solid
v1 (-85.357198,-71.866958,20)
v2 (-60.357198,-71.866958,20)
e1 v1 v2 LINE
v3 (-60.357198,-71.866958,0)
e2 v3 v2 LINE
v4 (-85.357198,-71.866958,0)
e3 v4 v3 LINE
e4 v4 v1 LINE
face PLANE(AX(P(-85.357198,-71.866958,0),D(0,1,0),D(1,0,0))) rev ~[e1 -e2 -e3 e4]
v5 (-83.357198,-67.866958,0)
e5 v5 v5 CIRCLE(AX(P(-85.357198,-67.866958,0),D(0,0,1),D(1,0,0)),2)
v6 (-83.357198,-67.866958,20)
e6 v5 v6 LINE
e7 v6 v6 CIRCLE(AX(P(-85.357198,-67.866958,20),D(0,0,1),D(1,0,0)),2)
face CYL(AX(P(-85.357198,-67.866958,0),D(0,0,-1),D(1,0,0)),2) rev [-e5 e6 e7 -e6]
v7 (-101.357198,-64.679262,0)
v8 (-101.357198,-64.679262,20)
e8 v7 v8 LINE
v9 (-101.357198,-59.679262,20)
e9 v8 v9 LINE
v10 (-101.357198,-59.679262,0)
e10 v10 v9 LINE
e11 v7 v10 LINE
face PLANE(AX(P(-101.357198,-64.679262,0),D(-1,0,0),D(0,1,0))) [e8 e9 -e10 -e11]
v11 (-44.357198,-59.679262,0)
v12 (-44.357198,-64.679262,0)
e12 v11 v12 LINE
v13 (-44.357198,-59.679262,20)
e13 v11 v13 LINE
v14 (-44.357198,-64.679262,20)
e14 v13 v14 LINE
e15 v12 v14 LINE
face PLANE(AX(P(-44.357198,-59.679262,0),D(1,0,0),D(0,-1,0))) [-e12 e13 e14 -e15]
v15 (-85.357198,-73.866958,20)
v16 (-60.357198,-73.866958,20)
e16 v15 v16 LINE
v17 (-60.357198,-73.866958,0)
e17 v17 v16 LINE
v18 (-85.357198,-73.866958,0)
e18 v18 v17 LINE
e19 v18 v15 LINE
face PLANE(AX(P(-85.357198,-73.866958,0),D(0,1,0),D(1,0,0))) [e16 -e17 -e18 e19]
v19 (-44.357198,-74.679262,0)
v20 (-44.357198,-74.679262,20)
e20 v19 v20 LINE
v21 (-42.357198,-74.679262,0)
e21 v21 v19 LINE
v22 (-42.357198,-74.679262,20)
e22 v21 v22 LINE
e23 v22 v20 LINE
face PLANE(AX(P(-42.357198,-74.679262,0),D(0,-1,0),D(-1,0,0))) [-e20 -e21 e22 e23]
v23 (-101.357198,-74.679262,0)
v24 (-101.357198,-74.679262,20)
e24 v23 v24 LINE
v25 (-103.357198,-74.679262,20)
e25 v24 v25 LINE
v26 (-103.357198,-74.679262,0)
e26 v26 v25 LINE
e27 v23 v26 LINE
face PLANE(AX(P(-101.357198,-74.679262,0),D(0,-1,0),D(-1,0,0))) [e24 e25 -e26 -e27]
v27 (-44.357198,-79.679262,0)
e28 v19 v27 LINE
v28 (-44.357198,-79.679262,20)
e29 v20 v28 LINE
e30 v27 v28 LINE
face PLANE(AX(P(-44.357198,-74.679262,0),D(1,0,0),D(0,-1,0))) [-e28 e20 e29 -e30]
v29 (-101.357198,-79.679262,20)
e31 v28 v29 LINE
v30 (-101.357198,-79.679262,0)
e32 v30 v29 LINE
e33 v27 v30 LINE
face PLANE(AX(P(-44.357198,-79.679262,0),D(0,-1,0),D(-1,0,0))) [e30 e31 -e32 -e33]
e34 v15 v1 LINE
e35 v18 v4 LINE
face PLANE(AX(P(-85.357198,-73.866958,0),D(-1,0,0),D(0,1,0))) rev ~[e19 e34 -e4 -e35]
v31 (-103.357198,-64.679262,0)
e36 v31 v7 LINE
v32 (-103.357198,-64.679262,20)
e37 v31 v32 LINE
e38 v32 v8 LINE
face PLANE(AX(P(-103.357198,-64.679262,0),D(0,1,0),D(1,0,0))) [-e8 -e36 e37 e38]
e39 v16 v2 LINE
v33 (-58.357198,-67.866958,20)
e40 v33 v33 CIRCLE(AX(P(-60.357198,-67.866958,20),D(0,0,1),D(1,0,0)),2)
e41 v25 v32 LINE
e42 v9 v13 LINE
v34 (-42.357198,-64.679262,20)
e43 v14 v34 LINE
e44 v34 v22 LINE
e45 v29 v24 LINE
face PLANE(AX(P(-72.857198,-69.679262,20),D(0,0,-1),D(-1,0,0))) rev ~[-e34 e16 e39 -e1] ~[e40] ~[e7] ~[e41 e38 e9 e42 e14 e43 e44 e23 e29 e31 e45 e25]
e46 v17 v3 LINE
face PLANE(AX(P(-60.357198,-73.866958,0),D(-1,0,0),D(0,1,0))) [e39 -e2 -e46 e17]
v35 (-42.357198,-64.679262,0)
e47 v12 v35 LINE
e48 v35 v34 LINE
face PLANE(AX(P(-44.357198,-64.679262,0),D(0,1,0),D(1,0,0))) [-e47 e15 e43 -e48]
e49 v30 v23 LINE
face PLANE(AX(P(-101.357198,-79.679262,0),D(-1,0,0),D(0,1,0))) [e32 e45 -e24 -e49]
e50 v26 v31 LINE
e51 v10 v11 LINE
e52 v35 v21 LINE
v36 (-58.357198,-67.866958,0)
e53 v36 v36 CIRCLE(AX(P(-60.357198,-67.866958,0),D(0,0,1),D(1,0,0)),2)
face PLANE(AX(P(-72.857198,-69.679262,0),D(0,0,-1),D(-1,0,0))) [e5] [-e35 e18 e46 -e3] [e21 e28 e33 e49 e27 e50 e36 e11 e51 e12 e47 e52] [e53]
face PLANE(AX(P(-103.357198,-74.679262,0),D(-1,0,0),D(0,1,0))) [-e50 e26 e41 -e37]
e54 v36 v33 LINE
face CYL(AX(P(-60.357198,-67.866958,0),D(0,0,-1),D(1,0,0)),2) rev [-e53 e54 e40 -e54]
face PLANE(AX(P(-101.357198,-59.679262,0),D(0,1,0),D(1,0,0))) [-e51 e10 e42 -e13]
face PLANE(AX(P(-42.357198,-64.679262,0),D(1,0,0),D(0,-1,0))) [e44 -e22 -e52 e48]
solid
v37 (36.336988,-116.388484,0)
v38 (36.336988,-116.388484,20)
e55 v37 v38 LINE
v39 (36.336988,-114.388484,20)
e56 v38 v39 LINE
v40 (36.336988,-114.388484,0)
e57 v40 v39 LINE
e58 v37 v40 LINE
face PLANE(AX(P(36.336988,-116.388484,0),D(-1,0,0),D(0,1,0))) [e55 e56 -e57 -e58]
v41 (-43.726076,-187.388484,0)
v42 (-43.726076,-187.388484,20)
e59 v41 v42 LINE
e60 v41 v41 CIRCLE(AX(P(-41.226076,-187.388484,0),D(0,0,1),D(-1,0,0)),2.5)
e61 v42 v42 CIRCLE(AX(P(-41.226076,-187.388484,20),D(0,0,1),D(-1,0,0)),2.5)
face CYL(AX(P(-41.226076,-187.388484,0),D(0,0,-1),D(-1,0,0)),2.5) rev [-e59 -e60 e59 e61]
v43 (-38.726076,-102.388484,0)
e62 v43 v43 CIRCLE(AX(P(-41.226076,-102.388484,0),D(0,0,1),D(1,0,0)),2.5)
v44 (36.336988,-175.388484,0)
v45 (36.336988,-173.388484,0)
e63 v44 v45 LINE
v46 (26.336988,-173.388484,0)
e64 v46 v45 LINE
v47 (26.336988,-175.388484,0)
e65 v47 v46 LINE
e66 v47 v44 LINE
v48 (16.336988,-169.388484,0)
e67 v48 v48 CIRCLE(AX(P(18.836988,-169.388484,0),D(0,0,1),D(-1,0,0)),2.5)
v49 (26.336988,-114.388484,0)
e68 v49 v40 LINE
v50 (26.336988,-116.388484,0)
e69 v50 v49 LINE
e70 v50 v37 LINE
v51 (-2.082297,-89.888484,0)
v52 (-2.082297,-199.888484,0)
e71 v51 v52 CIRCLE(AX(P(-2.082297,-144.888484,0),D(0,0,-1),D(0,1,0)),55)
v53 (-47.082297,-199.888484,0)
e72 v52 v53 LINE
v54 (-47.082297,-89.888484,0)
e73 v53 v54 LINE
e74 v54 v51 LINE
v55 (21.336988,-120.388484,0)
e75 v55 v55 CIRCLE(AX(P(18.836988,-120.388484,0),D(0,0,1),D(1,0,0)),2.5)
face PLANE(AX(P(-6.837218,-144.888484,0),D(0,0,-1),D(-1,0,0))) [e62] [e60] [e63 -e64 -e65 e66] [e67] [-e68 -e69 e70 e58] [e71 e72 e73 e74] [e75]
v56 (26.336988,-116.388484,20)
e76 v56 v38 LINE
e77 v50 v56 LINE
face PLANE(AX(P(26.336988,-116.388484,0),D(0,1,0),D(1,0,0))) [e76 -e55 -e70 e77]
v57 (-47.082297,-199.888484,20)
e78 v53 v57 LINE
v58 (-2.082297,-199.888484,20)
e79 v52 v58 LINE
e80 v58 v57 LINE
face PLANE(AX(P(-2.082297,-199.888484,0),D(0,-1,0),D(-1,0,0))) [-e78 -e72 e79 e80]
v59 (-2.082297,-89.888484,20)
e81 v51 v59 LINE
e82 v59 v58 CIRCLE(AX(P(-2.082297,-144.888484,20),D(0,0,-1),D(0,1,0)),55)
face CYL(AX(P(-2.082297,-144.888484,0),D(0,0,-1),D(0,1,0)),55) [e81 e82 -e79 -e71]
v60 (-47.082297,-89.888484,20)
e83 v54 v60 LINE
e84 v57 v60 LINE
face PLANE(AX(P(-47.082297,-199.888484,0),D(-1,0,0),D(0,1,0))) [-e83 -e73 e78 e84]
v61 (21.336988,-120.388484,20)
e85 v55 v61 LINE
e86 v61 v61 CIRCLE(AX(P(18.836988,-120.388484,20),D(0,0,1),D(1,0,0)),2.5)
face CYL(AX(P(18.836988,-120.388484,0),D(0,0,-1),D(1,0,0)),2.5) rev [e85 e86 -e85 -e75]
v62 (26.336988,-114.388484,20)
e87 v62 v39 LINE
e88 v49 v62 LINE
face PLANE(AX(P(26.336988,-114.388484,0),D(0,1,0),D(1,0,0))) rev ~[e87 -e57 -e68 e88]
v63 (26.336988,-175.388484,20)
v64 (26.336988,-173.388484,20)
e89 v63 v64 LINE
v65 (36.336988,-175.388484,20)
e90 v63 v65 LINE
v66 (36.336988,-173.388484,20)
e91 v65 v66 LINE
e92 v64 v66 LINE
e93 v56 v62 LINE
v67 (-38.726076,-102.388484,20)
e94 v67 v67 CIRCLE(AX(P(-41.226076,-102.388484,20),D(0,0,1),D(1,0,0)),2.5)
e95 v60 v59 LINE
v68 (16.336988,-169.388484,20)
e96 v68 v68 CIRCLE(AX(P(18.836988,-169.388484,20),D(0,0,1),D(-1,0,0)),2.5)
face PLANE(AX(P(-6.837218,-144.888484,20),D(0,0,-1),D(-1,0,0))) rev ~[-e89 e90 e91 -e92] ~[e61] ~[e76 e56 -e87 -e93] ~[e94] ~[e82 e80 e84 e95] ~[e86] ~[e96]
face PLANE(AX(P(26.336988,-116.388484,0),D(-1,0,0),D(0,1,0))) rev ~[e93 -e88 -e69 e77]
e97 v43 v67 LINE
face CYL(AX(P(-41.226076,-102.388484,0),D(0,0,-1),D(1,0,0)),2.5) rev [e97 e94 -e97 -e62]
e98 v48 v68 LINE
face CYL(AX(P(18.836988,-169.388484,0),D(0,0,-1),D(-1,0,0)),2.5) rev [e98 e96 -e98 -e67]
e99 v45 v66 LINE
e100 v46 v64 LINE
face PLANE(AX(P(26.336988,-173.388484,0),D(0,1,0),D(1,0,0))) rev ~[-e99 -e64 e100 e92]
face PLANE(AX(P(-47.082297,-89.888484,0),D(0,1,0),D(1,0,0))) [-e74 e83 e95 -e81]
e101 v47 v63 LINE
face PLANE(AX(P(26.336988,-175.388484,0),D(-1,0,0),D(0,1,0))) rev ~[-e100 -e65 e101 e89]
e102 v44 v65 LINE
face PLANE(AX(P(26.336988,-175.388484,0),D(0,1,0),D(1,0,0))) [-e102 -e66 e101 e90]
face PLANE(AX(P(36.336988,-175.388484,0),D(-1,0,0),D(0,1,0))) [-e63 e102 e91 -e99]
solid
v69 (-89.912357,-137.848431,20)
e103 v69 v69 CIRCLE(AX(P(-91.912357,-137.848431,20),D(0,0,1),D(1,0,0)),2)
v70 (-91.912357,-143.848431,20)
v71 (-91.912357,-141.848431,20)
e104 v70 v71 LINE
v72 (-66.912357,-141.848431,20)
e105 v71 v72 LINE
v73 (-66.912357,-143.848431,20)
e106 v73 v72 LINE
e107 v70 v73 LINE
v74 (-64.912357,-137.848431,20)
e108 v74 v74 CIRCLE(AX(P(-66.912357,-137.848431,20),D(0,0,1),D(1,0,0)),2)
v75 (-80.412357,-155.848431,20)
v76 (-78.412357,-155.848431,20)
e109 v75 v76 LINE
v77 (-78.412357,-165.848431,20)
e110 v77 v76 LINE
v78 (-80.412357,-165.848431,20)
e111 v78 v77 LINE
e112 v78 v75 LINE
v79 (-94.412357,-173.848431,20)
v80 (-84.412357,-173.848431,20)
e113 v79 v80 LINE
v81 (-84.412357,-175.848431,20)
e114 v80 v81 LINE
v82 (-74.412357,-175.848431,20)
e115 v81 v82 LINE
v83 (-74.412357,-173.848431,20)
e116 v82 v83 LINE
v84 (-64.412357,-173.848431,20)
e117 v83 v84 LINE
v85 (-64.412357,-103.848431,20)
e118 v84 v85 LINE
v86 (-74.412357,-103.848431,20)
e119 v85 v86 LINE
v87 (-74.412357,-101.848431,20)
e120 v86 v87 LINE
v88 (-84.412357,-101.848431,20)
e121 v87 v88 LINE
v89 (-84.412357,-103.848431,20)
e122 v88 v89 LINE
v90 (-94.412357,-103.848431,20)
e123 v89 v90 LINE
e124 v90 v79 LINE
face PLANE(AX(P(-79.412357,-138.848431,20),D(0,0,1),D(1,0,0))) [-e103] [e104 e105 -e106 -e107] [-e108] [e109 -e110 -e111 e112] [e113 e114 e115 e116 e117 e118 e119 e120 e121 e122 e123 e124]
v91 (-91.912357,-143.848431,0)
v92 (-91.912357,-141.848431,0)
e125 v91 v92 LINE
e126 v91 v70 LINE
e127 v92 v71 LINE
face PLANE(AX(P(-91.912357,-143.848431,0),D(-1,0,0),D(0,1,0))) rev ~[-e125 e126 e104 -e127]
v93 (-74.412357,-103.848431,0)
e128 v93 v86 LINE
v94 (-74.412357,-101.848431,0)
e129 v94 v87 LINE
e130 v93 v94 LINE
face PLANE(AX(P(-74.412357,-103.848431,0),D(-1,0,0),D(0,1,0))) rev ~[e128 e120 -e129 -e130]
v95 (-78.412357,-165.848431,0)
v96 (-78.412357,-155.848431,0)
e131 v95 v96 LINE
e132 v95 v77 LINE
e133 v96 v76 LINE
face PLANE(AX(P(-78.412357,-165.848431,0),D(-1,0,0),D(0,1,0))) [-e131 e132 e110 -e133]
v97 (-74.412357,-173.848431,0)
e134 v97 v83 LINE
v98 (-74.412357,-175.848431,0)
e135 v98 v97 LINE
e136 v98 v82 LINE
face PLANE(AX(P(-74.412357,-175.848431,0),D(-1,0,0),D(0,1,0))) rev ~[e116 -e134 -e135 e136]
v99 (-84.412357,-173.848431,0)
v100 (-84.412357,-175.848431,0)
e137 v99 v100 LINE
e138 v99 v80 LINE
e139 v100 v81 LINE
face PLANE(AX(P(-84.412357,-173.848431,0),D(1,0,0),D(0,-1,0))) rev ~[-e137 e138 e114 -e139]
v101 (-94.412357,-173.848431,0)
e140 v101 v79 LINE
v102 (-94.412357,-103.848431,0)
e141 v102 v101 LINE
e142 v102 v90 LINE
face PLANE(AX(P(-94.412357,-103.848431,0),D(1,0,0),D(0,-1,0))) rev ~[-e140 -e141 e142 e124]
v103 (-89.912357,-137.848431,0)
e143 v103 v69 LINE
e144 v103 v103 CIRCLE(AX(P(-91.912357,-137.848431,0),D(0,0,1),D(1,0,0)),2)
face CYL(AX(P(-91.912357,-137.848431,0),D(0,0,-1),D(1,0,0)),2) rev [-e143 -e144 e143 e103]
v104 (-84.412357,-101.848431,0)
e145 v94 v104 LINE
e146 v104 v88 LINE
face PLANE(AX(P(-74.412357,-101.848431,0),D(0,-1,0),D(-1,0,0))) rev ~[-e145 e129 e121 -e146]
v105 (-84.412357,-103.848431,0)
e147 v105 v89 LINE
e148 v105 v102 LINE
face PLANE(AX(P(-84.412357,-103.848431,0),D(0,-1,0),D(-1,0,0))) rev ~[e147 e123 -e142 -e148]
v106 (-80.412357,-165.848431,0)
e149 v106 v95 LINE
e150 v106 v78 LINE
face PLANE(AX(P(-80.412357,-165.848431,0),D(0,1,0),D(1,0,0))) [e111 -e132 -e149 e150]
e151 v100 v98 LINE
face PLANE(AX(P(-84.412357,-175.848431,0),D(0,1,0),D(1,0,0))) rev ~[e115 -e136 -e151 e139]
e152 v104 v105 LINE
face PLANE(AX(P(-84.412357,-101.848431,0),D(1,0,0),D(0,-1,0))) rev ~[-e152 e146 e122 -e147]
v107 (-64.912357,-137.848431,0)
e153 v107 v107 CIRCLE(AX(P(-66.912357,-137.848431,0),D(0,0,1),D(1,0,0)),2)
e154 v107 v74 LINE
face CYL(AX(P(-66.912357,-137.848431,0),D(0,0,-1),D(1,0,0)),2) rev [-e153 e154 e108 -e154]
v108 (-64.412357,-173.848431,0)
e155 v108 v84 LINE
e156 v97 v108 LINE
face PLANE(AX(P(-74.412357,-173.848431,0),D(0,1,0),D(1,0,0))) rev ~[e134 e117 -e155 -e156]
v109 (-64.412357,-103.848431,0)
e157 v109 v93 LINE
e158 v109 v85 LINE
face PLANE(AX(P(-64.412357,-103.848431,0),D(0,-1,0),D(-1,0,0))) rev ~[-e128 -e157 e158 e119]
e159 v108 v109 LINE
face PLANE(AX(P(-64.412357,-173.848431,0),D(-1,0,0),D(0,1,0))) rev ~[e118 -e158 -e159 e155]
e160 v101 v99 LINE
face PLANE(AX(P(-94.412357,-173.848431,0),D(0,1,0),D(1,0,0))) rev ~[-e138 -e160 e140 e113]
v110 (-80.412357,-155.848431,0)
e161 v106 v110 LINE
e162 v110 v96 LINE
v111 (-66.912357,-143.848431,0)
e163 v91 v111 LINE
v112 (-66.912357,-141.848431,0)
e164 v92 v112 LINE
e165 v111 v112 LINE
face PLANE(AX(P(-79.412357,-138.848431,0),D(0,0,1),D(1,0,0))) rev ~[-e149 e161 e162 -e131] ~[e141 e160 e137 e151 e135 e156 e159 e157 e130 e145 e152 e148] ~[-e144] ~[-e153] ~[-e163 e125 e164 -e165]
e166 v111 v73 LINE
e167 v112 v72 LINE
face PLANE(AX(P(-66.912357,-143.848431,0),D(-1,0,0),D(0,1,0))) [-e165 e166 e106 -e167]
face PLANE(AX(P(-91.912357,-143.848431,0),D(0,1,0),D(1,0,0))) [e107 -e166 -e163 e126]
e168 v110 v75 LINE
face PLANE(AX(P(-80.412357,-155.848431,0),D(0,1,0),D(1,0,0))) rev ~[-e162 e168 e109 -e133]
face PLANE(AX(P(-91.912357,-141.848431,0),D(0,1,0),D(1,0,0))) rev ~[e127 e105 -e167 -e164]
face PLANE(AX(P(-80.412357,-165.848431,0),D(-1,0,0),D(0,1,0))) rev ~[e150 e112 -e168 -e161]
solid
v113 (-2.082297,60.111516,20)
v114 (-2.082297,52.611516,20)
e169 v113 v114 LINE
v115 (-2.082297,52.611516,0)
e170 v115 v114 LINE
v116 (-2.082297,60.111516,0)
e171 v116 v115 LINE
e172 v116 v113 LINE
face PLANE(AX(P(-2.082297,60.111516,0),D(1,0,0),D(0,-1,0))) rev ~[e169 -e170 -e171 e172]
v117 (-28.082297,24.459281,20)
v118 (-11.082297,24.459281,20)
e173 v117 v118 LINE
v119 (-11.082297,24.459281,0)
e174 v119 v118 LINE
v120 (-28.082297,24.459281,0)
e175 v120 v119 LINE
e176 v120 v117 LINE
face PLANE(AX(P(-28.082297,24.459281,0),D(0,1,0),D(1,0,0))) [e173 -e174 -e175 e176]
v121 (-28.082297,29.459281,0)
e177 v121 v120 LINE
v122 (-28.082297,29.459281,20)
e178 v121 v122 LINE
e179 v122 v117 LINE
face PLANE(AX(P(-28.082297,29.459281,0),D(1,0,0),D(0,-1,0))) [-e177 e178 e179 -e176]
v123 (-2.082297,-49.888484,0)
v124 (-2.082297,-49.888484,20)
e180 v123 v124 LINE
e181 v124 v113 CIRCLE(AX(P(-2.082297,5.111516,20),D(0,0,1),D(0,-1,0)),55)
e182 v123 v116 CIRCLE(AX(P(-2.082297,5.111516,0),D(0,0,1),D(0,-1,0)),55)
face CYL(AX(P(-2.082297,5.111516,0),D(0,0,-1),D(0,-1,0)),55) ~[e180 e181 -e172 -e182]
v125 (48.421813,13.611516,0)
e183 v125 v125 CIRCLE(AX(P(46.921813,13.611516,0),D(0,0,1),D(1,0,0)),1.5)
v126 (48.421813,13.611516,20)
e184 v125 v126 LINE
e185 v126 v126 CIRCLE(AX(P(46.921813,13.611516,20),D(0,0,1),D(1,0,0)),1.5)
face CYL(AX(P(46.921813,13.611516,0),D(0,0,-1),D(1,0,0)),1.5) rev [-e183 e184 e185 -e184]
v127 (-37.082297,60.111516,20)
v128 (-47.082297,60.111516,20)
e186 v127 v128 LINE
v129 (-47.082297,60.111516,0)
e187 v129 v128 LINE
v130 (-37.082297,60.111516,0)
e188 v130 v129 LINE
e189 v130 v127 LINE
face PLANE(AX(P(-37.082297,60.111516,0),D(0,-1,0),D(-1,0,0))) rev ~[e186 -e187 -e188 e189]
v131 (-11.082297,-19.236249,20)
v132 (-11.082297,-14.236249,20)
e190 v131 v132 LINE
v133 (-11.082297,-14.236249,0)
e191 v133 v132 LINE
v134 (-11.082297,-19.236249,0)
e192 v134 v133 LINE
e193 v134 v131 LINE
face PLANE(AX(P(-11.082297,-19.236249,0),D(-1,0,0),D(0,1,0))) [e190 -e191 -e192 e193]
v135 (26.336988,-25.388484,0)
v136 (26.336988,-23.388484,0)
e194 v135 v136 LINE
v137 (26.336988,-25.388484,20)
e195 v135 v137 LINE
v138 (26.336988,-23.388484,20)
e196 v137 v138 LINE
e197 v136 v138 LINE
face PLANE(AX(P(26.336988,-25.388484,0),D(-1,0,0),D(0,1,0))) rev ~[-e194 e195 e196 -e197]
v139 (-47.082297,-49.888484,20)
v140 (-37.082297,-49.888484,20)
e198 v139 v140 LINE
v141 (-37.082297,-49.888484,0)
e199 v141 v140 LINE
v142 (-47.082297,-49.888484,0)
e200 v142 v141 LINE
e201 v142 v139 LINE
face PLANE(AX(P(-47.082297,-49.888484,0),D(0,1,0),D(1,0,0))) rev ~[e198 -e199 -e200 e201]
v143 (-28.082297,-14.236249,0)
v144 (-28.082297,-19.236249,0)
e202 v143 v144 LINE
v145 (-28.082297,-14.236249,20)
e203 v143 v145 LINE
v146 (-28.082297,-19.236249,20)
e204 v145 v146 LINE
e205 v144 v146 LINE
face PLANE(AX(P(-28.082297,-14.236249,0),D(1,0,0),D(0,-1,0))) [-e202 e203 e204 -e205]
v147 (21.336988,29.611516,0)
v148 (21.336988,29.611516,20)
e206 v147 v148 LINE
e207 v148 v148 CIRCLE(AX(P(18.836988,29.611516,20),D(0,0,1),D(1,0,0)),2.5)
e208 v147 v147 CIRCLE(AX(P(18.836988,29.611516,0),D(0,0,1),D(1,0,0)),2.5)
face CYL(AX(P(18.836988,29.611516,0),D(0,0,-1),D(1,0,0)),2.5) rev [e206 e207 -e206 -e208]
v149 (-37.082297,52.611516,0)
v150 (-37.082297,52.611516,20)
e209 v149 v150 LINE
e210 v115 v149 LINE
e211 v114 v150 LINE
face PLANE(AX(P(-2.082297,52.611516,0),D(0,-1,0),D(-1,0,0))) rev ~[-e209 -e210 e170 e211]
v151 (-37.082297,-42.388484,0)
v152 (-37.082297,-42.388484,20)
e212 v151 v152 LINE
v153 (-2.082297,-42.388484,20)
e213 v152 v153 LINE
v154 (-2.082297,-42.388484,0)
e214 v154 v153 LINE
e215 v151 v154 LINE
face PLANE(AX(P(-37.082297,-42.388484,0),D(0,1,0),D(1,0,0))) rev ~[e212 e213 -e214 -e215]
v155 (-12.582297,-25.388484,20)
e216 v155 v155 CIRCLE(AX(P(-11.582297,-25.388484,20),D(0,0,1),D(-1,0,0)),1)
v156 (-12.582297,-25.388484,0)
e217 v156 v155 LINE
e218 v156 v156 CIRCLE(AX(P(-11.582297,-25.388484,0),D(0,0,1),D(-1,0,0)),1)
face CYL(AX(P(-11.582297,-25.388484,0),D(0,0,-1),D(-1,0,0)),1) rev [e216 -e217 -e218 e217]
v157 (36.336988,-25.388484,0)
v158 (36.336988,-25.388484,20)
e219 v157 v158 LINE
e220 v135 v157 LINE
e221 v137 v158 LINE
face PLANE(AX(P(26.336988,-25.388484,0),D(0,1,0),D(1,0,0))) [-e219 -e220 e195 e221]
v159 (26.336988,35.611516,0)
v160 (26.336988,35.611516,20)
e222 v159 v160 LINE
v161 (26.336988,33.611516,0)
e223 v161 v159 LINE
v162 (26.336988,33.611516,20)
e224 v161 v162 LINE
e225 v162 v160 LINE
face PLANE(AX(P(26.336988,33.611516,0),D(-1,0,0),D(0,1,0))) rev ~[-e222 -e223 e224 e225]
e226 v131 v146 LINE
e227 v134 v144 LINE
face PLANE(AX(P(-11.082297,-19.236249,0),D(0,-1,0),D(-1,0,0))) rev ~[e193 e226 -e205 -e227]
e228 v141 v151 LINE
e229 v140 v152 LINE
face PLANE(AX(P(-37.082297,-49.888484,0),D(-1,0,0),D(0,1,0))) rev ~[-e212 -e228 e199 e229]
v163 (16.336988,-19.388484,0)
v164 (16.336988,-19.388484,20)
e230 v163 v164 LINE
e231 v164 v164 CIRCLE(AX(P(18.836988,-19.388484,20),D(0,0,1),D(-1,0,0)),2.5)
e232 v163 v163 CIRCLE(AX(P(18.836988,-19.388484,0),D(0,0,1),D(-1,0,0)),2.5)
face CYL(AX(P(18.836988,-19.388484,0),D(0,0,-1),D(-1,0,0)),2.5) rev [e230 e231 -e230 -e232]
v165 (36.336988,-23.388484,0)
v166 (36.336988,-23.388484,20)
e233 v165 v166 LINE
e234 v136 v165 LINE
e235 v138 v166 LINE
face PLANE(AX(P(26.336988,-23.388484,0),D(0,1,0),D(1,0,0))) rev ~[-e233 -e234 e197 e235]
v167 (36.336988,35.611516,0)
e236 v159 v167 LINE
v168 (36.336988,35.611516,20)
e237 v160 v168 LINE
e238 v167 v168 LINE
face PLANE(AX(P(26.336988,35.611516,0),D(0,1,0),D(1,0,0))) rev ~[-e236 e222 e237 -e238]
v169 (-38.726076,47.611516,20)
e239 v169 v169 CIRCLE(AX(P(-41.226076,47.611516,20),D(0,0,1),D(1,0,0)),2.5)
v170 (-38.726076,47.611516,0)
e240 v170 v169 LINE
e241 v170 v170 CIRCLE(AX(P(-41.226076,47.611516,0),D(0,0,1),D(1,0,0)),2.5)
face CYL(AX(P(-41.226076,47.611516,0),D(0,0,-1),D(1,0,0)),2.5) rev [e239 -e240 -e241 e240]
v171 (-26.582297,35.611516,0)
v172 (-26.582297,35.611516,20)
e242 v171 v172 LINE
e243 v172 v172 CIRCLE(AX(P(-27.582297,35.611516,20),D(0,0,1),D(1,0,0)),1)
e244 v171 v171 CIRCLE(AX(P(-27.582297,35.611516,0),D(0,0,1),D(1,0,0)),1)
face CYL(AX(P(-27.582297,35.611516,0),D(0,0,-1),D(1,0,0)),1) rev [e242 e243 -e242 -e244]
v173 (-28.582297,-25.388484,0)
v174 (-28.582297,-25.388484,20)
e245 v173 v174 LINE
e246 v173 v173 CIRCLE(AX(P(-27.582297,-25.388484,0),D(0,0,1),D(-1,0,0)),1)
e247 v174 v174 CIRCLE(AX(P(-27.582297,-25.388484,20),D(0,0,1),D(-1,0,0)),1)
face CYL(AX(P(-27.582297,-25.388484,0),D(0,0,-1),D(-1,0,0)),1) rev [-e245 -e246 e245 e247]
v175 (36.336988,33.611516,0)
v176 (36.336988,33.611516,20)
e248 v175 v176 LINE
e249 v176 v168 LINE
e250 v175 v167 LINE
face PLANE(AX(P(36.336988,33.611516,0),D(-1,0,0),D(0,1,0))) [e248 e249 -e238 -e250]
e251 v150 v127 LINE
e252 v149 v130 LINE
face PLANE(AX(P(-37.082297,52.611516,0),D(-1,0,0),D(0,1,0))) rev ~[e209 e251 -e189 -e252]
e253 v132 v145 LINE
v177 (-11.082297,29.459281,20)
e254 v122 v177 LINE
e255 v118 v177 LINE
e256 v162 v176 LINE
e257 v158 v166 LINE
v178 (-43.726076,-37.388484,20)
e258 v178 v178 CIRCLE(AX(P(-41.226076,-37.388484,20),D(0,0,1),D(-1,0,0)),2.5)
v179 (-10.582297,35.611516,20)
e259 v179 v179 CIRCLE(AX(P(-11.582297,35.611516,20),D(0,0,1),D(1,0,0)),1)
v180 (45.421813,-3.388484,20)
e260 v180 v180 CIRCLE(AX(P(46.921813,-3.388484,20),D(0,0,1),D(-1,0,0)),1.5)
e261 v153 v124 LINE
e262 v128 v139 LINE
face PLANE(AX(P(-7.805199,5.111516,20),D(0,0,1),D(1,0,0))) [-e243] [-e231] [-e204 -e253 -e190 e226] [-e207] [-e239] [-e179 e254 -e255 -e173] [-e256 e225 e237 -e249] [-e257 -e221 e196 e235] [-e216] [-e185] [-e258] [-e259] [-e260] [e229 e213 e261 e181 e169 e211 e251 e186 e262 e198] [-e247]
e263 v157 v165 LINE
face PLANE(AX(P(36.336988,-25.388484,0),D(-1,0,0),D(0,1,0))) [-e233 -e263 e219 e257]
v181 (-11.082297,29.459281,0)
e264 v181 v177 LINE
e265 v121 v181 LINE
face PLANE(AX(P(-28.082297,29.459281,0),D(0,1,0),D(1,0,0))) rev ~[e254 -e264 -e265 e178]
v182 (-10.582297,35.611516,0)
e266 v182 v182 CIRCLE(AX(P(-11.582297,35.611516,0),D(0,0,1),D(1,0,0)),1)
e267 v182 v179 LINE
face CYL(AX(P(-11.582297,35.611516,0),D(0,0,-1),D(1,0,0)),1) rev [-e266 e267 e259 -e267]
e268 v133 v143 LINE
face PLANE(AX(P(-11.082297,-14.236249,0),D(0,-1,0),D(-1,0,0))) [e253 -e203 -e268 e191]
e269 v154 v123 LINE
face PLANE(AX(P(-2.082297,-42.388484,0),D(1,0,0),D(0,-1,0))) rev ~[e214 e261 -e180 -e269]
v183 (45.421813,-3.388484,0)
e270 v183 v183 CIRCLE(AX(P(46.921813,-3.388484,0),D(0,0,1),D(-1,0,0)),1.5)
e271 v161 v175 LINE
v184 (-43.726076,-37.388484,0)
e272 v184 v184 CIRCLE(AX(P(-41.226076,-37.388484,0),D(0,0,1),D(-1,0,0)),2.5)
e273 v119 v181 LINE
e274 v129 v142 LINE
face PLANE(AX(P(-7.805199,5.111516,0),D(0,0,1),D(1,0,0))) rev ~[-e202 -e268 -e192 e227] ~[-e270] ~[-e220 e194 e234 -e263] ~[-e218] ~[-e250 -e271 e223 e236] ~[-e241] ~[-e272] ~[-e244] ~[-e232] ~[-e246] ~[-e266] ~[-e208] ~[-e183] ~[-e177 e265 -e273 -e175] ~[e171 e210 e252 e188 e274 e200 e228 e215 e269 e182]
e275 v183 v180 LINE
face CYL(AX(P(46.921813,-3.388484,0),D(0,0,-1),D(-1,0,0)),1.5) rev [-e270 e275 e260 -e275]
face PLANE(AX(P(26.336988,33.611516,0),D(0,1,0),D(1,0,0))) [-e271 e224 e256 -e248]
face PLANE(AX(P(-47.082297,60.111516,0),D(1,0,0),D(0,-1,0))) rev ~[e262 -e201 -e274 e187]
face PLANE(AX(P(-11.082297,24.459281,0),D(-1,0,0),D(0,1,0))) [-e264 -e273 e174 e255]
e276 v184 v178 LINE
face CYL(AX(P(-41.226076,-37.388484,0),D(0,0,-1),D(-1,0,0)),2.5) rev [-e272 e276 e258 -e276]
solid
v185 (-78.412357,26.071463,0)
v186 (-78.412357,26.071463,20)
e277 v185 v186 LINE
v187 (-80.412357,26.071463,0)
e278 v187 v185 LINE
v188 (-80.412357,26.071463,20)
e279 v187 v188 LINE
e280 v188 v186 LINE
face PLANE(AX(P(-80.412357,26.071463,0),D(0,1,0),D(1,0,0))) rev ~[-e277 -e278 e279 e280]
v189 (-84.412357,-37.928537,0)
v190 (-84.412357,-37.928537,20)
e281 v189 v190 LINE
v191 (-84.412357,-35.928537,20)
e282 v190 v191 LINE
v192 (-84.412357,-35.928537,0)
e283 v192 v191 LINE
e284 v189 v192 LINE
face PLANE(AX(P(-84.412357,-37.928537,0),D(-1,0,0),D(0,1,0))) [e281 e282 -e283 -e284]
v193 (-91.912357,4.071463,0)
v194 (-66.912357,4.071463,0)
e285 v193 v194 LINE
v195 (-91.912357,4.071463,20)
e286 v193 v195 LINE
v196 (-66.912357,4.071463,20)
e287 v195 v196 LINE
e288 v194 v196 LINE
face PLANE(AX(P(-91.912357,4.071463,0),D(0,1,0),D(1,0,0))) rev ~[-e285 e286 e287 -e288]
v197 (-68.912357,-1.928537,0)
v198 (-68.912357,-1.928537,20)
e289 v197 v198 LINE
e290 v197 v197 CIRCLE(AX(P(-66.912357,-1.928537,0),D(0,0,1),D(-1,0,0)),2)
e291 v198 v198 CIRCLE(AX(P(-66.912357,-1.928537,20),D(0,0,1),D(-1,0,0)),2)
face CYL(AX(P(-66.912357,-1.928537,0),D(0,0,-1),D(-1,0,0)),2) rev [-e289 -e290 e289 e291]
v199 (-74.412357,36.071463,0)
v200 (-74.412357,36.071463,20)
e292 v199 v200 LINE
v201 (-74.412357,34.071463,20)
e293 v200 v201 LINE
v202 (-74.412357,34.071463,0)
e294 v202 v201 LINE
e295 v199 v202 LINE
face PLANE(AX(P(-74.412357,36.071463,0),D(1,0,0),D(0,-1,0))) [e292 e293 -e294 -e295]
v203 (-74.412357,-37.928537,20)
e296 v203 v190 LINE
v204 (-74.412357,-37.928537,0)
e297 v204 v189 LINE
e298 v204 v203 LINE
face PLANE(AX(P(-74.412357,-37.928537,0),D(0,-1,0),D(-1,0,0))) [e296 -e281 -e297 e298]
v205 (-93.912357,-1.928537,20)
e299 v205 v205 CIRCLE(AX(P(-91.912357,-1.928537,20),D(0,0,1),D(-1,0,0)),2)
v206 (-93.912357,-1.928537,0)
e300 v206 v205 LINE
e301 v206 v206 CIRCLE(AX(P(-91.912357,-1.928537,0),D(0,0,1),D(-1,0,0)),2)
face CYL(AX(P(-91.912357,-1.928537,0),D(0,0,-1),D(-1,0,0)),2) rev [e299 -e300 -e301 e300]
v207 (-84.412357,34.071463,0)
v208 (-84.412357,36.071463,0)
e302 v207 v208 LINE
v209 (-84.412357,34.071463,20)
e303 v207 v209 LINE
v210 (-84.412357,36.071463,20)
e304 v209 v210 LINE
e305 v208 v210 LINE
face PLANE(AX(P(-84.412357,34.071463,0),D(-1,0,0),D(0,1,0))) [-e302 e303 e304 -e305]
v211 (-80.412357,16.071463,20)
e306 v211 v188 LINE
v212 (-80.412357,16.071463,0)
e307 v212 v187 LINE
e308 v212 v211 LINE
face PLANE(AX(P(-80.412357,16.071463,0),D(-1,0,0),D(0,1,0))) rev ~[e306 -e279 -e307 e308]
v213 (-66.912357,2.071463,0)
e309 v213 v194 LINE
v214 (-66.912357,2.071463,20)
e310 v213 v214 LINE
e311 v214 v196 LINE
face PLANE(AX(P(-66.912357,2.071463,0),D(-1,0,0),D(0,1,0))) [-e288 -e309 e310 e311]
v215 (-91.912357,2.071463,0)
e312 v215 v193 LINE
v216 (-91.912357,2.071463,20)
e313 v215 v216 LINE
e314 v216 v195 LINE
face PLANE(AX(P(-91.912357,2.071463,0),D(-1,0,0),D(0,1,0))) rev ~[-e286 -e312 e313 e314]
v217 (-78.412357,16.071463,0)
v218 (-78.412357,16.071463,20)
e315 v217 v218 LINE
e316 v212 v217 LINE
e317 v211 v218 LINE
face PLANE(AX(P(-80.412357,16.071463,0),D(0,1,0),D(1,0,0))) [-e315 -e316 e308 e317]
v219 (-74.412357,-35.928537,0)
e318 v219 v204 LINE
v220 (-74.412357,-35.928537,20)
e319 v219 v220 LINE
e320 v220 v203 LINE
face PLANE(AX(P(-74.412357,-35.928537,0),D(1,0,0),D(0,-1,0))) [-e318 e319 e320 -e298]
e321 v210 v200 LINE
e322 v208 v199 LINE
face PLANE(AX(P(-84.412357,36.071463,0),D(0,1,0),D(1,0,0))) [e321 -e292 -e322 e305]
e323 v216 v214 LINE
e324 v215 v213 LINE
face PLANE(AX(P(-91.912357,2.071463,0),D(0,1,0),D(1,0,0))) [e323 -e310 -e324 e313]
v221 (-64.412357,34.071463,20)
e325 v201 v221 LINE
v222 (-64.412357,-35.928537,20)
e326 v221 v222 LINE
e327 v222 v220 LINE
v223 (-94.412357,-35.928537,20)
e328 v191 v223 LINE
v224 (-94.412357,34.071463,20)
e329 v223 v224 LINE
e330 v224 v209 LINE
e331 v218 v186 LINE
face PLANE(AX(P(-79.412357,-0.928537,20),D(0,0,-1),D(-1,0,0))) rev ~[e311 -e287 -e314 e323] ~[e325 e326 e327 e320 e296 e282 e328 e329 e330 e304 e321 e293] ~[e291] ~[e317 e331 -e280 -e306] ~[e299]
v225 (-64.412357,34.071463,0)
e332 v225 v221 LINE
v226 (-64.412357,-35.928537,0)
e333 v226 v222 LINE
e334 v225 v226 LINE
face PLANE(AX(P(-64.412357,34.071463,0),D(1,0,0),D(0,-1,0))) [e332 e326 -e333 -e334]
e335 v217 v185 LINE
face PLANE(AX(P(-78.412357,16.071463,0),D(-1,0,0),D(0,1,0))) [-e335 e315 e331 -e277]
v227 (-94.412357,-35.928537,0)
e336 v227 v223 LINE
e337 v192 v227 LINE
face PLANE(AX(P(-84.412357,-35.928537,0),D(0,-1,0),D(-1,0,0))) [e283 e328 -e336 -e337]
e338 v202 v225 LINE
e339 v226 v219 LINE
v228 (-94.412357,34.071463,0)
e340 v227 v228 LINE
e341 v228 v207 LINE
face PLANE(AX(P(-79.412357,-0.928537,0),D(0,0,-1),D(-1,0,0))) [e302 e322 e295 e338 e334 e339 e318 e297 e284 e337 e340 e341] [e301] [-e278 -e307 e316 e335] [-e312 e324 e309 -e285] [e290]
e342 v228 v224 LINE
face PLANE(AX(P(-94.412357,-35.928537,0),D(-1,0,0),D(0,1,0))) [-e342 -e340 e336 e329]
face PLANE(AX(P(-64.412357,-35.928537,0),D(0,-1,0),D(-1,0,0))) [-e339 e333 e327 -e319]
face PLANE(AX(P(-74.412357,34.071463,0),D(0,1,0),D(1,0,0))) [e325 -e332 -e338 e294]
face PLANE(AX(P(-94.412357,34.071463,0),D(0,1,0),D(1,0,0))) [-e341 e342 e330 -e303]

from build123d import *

# Parameters (mm, degrees)
SKETCH1_R             = 1
SKETCH1_R_2           = 1.5
SKETCH1_R_3           = 2.5
SKETCH1_W             = 10
SKETCH1_H             = 2
BOSS_EXTRUDE2_DEPTH   = 20
SKETCH1_R_4           = 2
SKETCH1_W_2           = 25
SKETCH1_W_3           = 2
SKETCH1_H_2           = 10
BOSS_EXTRUDE2_2_DEPTH = 20
BOSS_EXTRUDE2_3_DEPTH = 20
BOSS_EXTRUDE2_4_DEPTH = 20
BOSS_EXTRUDE2_5_DEPTH = 20


with BuildPart() as part:
    # Sketch1 → Boss-Extrude2 (new body)
    with BuildSketch(Plane.XY):
        with BuildLine():
            Line((-47.082296937, 60.111516097), (-47.082296937, -49.888483903))
            Line((-47.082296937, -49.888483903), (-37.082296937, -49.888483903))
            Line((-37.082296937, -49.888483903), (-37.082296937, -42.388483903))
            Line((-37.082296937, -42.388483903), (-2.082296937, -42.388483903))
            Line((-2.082296937, -42.388483903), (-2.082296937, -49.888483903))
            ThreePointArc((-2.082296937, -49.888483903), (52.917703063, 5.111516097), (-2.082296937, 60.111516097))
            Line((-2.082296937, 60.111516097), (-2.082296937, 52.611516097))
            Line((-2.082296937, 52.611516097), (-37.082296937, 52.611516097))
            Line((-37.082296937, 52.611516097), (-37.082296937, 60.111516097))
            Line((-37.082296937, 60.111516097), (-47.082296937, 60.111516097))
        make_face()
        with Locations((-27.582296937, 35.611516097)):
            Circle(SKETCH1_R, mode=Mode.SUBTRACT)
        with Locations((-11.582296937, 35.611516097)):
            Circle(SKETCH1_R, mode=Mode.SUBTRACT)
        with Locations((46.921812534, 13.611516097)):
            Circle(SKETCH1_R_2, mode=Mode.SUBTRACT)
        with Locations((-41.22607555, 47.611516097)):
            Circle(SKETCH1_R_3, mode=Mode.SUBTRACT)
        with Locations(Location((46.921812534, -3.388483903, 0), (0, 0, 180))):
            Circle(SKETCH1_R_2, mode=Mode.SUBTRACT)
        with Locations(Location((-11.582296937, -25.388483903, 0), (0, 0, 180))):
            Circle(SKETCH1_R, mode=Mode.SUBTRACT)
        with Locations(Location((-27.582296937, -25.388483903, 0), (0, 0, 180))):
            Circle(SKETCH1_R, mode=Mode.SUBTRACT)
        with Locations(Location((-41.22607555, -37.388483903, 0), (0, 0, 180))):
            Circle(SKETCH1_R_3, mode=Mode.SUBTRACT)
        with Locations((18.836987849, 29.611516097)):
            Circle(SKETCH1_R_3, mode=Mode.SUBTRACT)
        with Locations(Location((18.836987849, -19.388483903, 0), (0, 0, 180))):
            Circle(SKETCH1_R_3, mode=Mode.SUBTRACT)
        Polygon((-19.582296937, 29.45928137), (-28.082296937, 29.45928137), (-28.082296937, 24.45928137), (-11.082296937, 24.45928137), (-11.082296937, 29.45928137), align=None, mode=Mode.SUBTRACT)
        with Locations((31.336987849, 34.611516097)):
            Rectangle(SKETCH1_W, SKETCH1_H, mode=Mode.SUBTRACT)
        with Locations((31.336987849, -24.388483903)):
            Rectangle(SKETCH1_W, SKETCH1_H, mode=Mode.SUBTRACT)
        Polygon((-28.082296937, -14.236249177), (-28.082296937, -19.236249177), (-19.582296937, -19.236249177), (-11.082296937, -19.236249177), (-11.082296937, -14.236249177), align=None, mode=Mode.SUBTRACT)
    extrude(amount=BOSS_EXTRUDE2_DEPTH)


with BuildPart() as body_2:
    # Sketch1 → Boss-Extrude2 2 (new body)
    with BuildSketch(Plane.XY):
        Polygon((-94.412357347, -103.848430512), (-94.412357347, -173.848430512), (-84.412357347, -173.848430512), (-84.412357347, -175.848430512), (-74.412357347, -175.848430512), (-74.412357347, -173.848430512), (-64.412357347, -173.848430512), (-64.412357347, -103.848430512), (-74.412357347, -103.848430512), (-74.412357347, -101.848430512), (-84.412357347, -101.848430512), (-84.412357347, -103.848430512), align=None)
        with Locations((-66.912357347, -137.848430512)):
            Circle(SKETCH1_R_4, mode=Mode.SUBTRACT)
        with Locations((-91.912357347, -137.848430512)):
            Circle(SKETCH1_R_4, mode=Mode.SUBTRACT)
        with Locations((-79.412357347, -142.848430512)):
            Rectangle(SKETCH1_W_2, SKETCH1_H, mode=Mode.SUBTRACT)
        with Locations((-79.412357347, -160.848430512)):
            Rectangle(SKETCH1_W_3, SKETCH1_H_2, mode=Mode.SUBTRACT)
    extrude(amount=BOSS_EXTRUDE2_2_DEPTH)


with BuildPart() as body_3:
    # Sketch1 → Boss-Extrude2 3 (new body)
    with BuildSketch(Plane.XY):
        with BuildLine():
            Line((-47.082296937, -89.888483903), (-37.082296937, -89.888483903))
            Line((-37.082296937, -89.888483903), (-2.082296937, -89.888483903))
            ThreePointArc((-2.082296937, -89.888483903), (52.917703063, -144.888483903), (-2.082296937, -199.888483903))
            Line((-2.082296937, -199.888483903), (-37.082296937, -199.888483903))
            Line((-37.082296937, -199.888483903), (-47.082296937, -199.888483903))
            Line((-47.082296937, -199.888483903), (-47.082296937, -89.888483903))
        make_face()
        with Locations((18.836987849, -120.388483903)):
            Circle(SKETCH1_R_3, mode=Mode.SUBTRACT)
        with Locations(Location((18.836987849, -169.388483903, 0), (0, 0, 180))):
            Circle(SKETCH1_R_3, mode=Mode.SUBTRACT)
        with Locations((-41.22607555, -102.388483903)):
            Circle(SKETCH1_R_3, mode=Mode.SUBTRACT)
        with Locations(Location((-41.22607555, -187.388483903, 0), (0, 0, 180))):
            Circle(SKETCH1_R_3, mode=Mode.SUBTRACT)
        with Locations((31.336987849, -115.388483903)):
            Rectangle(SKETCH1_W, SKETCH1_H, mode=Mode.SUBTRACT)
        with Locations((31.336987849, -174.388483903)):
            Rectangle(SKETCH1_W, SKETCH1_H, mode=Mode.SUBTRACT)
    extrude(amount=BOSS_EXTRUDE2_3_DEPTH)


with BuildPart() as body_4:
    # Sketch1 → Boss-Extrude2 4 (new body)
    with BuildSketch(Plane.XY):
        Polygon((-101.357197908, -59.679261611), (-44.357197908, -59.679261611), (-44.357197908, -64.679261611), (-42.357197908, -64.679261611), (-42.357197908, -74.679261611), (-44.357197908, -74.679261611), (-44.357197908, -79.679261611), (-101.357197908, -79.679261611), (-101.357197908, -74.679261611), (-103.357197908, -74.679261611), (-103.357197908, -64.679261611), (-101.357197908, -64.679261611), align=None)
        with Locations((-60.357197908, -67.866957814)):
            Circle(SKETCH1_R_4, mode=Mode.SUBTRACT)
        with Locations((-85.357197908, -67.866957814)):
            Circle(SKETCH1_R_4, mode=Mode.SUBTRACT)
        with Locations((-72.857197908, -72.866957814)):
            Rectangle(SKETCH1_W_2, SKETCH1_H, mode=Mode.SUBTRACT)
    extrude(amount=BOSS_EXTRUDE2_4_DEPTH)


with BuildPart() as body_5:
    # Sketch1 → Boss-Extrude2 5 (new body)
    with BuildSketch(Plane.XY):
        Polygon((-74.412357347, 34.071462705), (-64.412357347, 34.071462705), (-64.412357347, -35.928537295), (-74.412357347, -35.928537295), (-74.412357347, -37.928537295), (-84.412357347, -37.928537295), (-84.412357347, -35.928537295), (-94.412357347, -35.928537295), (-94.412357347, 34.071462705), (-84.412357347, 34.071462705), (-84.412357347, 36.071462705), (-74.412357347, 36.071462705), align=None)
        with Locations(Location((-91.912357347, -1.928537295, 0), (0, 0, 180))):
            Circle(SKETCH1_R_4, mode=Mode.SUBTRACT)
        with Locations(Location((-66.912357347, -1.928537295, 0), (0, 0, 180))):
            Circle(SKETCH1_R_4, mode=Mode.SUBTRACT)
        with Locations((-79.412357347, 3.071462705)):
            Rectangle(SKETCH1_W_2, SKETCH1_H, mode=Mode.SUBTRACT)
        with Locations((-79.412357347, 21.071462705)):
            Rectangle(SKETCH1_W_3, SKETCH1_H_2, mode=Mode.SUBTRACT)
    extrude(amount=BOSS_EXTRUDE2_5_DEPTH)


solid = Compound([part.part, body_2.part, body_3.part, body_4.part, body_5.part])
